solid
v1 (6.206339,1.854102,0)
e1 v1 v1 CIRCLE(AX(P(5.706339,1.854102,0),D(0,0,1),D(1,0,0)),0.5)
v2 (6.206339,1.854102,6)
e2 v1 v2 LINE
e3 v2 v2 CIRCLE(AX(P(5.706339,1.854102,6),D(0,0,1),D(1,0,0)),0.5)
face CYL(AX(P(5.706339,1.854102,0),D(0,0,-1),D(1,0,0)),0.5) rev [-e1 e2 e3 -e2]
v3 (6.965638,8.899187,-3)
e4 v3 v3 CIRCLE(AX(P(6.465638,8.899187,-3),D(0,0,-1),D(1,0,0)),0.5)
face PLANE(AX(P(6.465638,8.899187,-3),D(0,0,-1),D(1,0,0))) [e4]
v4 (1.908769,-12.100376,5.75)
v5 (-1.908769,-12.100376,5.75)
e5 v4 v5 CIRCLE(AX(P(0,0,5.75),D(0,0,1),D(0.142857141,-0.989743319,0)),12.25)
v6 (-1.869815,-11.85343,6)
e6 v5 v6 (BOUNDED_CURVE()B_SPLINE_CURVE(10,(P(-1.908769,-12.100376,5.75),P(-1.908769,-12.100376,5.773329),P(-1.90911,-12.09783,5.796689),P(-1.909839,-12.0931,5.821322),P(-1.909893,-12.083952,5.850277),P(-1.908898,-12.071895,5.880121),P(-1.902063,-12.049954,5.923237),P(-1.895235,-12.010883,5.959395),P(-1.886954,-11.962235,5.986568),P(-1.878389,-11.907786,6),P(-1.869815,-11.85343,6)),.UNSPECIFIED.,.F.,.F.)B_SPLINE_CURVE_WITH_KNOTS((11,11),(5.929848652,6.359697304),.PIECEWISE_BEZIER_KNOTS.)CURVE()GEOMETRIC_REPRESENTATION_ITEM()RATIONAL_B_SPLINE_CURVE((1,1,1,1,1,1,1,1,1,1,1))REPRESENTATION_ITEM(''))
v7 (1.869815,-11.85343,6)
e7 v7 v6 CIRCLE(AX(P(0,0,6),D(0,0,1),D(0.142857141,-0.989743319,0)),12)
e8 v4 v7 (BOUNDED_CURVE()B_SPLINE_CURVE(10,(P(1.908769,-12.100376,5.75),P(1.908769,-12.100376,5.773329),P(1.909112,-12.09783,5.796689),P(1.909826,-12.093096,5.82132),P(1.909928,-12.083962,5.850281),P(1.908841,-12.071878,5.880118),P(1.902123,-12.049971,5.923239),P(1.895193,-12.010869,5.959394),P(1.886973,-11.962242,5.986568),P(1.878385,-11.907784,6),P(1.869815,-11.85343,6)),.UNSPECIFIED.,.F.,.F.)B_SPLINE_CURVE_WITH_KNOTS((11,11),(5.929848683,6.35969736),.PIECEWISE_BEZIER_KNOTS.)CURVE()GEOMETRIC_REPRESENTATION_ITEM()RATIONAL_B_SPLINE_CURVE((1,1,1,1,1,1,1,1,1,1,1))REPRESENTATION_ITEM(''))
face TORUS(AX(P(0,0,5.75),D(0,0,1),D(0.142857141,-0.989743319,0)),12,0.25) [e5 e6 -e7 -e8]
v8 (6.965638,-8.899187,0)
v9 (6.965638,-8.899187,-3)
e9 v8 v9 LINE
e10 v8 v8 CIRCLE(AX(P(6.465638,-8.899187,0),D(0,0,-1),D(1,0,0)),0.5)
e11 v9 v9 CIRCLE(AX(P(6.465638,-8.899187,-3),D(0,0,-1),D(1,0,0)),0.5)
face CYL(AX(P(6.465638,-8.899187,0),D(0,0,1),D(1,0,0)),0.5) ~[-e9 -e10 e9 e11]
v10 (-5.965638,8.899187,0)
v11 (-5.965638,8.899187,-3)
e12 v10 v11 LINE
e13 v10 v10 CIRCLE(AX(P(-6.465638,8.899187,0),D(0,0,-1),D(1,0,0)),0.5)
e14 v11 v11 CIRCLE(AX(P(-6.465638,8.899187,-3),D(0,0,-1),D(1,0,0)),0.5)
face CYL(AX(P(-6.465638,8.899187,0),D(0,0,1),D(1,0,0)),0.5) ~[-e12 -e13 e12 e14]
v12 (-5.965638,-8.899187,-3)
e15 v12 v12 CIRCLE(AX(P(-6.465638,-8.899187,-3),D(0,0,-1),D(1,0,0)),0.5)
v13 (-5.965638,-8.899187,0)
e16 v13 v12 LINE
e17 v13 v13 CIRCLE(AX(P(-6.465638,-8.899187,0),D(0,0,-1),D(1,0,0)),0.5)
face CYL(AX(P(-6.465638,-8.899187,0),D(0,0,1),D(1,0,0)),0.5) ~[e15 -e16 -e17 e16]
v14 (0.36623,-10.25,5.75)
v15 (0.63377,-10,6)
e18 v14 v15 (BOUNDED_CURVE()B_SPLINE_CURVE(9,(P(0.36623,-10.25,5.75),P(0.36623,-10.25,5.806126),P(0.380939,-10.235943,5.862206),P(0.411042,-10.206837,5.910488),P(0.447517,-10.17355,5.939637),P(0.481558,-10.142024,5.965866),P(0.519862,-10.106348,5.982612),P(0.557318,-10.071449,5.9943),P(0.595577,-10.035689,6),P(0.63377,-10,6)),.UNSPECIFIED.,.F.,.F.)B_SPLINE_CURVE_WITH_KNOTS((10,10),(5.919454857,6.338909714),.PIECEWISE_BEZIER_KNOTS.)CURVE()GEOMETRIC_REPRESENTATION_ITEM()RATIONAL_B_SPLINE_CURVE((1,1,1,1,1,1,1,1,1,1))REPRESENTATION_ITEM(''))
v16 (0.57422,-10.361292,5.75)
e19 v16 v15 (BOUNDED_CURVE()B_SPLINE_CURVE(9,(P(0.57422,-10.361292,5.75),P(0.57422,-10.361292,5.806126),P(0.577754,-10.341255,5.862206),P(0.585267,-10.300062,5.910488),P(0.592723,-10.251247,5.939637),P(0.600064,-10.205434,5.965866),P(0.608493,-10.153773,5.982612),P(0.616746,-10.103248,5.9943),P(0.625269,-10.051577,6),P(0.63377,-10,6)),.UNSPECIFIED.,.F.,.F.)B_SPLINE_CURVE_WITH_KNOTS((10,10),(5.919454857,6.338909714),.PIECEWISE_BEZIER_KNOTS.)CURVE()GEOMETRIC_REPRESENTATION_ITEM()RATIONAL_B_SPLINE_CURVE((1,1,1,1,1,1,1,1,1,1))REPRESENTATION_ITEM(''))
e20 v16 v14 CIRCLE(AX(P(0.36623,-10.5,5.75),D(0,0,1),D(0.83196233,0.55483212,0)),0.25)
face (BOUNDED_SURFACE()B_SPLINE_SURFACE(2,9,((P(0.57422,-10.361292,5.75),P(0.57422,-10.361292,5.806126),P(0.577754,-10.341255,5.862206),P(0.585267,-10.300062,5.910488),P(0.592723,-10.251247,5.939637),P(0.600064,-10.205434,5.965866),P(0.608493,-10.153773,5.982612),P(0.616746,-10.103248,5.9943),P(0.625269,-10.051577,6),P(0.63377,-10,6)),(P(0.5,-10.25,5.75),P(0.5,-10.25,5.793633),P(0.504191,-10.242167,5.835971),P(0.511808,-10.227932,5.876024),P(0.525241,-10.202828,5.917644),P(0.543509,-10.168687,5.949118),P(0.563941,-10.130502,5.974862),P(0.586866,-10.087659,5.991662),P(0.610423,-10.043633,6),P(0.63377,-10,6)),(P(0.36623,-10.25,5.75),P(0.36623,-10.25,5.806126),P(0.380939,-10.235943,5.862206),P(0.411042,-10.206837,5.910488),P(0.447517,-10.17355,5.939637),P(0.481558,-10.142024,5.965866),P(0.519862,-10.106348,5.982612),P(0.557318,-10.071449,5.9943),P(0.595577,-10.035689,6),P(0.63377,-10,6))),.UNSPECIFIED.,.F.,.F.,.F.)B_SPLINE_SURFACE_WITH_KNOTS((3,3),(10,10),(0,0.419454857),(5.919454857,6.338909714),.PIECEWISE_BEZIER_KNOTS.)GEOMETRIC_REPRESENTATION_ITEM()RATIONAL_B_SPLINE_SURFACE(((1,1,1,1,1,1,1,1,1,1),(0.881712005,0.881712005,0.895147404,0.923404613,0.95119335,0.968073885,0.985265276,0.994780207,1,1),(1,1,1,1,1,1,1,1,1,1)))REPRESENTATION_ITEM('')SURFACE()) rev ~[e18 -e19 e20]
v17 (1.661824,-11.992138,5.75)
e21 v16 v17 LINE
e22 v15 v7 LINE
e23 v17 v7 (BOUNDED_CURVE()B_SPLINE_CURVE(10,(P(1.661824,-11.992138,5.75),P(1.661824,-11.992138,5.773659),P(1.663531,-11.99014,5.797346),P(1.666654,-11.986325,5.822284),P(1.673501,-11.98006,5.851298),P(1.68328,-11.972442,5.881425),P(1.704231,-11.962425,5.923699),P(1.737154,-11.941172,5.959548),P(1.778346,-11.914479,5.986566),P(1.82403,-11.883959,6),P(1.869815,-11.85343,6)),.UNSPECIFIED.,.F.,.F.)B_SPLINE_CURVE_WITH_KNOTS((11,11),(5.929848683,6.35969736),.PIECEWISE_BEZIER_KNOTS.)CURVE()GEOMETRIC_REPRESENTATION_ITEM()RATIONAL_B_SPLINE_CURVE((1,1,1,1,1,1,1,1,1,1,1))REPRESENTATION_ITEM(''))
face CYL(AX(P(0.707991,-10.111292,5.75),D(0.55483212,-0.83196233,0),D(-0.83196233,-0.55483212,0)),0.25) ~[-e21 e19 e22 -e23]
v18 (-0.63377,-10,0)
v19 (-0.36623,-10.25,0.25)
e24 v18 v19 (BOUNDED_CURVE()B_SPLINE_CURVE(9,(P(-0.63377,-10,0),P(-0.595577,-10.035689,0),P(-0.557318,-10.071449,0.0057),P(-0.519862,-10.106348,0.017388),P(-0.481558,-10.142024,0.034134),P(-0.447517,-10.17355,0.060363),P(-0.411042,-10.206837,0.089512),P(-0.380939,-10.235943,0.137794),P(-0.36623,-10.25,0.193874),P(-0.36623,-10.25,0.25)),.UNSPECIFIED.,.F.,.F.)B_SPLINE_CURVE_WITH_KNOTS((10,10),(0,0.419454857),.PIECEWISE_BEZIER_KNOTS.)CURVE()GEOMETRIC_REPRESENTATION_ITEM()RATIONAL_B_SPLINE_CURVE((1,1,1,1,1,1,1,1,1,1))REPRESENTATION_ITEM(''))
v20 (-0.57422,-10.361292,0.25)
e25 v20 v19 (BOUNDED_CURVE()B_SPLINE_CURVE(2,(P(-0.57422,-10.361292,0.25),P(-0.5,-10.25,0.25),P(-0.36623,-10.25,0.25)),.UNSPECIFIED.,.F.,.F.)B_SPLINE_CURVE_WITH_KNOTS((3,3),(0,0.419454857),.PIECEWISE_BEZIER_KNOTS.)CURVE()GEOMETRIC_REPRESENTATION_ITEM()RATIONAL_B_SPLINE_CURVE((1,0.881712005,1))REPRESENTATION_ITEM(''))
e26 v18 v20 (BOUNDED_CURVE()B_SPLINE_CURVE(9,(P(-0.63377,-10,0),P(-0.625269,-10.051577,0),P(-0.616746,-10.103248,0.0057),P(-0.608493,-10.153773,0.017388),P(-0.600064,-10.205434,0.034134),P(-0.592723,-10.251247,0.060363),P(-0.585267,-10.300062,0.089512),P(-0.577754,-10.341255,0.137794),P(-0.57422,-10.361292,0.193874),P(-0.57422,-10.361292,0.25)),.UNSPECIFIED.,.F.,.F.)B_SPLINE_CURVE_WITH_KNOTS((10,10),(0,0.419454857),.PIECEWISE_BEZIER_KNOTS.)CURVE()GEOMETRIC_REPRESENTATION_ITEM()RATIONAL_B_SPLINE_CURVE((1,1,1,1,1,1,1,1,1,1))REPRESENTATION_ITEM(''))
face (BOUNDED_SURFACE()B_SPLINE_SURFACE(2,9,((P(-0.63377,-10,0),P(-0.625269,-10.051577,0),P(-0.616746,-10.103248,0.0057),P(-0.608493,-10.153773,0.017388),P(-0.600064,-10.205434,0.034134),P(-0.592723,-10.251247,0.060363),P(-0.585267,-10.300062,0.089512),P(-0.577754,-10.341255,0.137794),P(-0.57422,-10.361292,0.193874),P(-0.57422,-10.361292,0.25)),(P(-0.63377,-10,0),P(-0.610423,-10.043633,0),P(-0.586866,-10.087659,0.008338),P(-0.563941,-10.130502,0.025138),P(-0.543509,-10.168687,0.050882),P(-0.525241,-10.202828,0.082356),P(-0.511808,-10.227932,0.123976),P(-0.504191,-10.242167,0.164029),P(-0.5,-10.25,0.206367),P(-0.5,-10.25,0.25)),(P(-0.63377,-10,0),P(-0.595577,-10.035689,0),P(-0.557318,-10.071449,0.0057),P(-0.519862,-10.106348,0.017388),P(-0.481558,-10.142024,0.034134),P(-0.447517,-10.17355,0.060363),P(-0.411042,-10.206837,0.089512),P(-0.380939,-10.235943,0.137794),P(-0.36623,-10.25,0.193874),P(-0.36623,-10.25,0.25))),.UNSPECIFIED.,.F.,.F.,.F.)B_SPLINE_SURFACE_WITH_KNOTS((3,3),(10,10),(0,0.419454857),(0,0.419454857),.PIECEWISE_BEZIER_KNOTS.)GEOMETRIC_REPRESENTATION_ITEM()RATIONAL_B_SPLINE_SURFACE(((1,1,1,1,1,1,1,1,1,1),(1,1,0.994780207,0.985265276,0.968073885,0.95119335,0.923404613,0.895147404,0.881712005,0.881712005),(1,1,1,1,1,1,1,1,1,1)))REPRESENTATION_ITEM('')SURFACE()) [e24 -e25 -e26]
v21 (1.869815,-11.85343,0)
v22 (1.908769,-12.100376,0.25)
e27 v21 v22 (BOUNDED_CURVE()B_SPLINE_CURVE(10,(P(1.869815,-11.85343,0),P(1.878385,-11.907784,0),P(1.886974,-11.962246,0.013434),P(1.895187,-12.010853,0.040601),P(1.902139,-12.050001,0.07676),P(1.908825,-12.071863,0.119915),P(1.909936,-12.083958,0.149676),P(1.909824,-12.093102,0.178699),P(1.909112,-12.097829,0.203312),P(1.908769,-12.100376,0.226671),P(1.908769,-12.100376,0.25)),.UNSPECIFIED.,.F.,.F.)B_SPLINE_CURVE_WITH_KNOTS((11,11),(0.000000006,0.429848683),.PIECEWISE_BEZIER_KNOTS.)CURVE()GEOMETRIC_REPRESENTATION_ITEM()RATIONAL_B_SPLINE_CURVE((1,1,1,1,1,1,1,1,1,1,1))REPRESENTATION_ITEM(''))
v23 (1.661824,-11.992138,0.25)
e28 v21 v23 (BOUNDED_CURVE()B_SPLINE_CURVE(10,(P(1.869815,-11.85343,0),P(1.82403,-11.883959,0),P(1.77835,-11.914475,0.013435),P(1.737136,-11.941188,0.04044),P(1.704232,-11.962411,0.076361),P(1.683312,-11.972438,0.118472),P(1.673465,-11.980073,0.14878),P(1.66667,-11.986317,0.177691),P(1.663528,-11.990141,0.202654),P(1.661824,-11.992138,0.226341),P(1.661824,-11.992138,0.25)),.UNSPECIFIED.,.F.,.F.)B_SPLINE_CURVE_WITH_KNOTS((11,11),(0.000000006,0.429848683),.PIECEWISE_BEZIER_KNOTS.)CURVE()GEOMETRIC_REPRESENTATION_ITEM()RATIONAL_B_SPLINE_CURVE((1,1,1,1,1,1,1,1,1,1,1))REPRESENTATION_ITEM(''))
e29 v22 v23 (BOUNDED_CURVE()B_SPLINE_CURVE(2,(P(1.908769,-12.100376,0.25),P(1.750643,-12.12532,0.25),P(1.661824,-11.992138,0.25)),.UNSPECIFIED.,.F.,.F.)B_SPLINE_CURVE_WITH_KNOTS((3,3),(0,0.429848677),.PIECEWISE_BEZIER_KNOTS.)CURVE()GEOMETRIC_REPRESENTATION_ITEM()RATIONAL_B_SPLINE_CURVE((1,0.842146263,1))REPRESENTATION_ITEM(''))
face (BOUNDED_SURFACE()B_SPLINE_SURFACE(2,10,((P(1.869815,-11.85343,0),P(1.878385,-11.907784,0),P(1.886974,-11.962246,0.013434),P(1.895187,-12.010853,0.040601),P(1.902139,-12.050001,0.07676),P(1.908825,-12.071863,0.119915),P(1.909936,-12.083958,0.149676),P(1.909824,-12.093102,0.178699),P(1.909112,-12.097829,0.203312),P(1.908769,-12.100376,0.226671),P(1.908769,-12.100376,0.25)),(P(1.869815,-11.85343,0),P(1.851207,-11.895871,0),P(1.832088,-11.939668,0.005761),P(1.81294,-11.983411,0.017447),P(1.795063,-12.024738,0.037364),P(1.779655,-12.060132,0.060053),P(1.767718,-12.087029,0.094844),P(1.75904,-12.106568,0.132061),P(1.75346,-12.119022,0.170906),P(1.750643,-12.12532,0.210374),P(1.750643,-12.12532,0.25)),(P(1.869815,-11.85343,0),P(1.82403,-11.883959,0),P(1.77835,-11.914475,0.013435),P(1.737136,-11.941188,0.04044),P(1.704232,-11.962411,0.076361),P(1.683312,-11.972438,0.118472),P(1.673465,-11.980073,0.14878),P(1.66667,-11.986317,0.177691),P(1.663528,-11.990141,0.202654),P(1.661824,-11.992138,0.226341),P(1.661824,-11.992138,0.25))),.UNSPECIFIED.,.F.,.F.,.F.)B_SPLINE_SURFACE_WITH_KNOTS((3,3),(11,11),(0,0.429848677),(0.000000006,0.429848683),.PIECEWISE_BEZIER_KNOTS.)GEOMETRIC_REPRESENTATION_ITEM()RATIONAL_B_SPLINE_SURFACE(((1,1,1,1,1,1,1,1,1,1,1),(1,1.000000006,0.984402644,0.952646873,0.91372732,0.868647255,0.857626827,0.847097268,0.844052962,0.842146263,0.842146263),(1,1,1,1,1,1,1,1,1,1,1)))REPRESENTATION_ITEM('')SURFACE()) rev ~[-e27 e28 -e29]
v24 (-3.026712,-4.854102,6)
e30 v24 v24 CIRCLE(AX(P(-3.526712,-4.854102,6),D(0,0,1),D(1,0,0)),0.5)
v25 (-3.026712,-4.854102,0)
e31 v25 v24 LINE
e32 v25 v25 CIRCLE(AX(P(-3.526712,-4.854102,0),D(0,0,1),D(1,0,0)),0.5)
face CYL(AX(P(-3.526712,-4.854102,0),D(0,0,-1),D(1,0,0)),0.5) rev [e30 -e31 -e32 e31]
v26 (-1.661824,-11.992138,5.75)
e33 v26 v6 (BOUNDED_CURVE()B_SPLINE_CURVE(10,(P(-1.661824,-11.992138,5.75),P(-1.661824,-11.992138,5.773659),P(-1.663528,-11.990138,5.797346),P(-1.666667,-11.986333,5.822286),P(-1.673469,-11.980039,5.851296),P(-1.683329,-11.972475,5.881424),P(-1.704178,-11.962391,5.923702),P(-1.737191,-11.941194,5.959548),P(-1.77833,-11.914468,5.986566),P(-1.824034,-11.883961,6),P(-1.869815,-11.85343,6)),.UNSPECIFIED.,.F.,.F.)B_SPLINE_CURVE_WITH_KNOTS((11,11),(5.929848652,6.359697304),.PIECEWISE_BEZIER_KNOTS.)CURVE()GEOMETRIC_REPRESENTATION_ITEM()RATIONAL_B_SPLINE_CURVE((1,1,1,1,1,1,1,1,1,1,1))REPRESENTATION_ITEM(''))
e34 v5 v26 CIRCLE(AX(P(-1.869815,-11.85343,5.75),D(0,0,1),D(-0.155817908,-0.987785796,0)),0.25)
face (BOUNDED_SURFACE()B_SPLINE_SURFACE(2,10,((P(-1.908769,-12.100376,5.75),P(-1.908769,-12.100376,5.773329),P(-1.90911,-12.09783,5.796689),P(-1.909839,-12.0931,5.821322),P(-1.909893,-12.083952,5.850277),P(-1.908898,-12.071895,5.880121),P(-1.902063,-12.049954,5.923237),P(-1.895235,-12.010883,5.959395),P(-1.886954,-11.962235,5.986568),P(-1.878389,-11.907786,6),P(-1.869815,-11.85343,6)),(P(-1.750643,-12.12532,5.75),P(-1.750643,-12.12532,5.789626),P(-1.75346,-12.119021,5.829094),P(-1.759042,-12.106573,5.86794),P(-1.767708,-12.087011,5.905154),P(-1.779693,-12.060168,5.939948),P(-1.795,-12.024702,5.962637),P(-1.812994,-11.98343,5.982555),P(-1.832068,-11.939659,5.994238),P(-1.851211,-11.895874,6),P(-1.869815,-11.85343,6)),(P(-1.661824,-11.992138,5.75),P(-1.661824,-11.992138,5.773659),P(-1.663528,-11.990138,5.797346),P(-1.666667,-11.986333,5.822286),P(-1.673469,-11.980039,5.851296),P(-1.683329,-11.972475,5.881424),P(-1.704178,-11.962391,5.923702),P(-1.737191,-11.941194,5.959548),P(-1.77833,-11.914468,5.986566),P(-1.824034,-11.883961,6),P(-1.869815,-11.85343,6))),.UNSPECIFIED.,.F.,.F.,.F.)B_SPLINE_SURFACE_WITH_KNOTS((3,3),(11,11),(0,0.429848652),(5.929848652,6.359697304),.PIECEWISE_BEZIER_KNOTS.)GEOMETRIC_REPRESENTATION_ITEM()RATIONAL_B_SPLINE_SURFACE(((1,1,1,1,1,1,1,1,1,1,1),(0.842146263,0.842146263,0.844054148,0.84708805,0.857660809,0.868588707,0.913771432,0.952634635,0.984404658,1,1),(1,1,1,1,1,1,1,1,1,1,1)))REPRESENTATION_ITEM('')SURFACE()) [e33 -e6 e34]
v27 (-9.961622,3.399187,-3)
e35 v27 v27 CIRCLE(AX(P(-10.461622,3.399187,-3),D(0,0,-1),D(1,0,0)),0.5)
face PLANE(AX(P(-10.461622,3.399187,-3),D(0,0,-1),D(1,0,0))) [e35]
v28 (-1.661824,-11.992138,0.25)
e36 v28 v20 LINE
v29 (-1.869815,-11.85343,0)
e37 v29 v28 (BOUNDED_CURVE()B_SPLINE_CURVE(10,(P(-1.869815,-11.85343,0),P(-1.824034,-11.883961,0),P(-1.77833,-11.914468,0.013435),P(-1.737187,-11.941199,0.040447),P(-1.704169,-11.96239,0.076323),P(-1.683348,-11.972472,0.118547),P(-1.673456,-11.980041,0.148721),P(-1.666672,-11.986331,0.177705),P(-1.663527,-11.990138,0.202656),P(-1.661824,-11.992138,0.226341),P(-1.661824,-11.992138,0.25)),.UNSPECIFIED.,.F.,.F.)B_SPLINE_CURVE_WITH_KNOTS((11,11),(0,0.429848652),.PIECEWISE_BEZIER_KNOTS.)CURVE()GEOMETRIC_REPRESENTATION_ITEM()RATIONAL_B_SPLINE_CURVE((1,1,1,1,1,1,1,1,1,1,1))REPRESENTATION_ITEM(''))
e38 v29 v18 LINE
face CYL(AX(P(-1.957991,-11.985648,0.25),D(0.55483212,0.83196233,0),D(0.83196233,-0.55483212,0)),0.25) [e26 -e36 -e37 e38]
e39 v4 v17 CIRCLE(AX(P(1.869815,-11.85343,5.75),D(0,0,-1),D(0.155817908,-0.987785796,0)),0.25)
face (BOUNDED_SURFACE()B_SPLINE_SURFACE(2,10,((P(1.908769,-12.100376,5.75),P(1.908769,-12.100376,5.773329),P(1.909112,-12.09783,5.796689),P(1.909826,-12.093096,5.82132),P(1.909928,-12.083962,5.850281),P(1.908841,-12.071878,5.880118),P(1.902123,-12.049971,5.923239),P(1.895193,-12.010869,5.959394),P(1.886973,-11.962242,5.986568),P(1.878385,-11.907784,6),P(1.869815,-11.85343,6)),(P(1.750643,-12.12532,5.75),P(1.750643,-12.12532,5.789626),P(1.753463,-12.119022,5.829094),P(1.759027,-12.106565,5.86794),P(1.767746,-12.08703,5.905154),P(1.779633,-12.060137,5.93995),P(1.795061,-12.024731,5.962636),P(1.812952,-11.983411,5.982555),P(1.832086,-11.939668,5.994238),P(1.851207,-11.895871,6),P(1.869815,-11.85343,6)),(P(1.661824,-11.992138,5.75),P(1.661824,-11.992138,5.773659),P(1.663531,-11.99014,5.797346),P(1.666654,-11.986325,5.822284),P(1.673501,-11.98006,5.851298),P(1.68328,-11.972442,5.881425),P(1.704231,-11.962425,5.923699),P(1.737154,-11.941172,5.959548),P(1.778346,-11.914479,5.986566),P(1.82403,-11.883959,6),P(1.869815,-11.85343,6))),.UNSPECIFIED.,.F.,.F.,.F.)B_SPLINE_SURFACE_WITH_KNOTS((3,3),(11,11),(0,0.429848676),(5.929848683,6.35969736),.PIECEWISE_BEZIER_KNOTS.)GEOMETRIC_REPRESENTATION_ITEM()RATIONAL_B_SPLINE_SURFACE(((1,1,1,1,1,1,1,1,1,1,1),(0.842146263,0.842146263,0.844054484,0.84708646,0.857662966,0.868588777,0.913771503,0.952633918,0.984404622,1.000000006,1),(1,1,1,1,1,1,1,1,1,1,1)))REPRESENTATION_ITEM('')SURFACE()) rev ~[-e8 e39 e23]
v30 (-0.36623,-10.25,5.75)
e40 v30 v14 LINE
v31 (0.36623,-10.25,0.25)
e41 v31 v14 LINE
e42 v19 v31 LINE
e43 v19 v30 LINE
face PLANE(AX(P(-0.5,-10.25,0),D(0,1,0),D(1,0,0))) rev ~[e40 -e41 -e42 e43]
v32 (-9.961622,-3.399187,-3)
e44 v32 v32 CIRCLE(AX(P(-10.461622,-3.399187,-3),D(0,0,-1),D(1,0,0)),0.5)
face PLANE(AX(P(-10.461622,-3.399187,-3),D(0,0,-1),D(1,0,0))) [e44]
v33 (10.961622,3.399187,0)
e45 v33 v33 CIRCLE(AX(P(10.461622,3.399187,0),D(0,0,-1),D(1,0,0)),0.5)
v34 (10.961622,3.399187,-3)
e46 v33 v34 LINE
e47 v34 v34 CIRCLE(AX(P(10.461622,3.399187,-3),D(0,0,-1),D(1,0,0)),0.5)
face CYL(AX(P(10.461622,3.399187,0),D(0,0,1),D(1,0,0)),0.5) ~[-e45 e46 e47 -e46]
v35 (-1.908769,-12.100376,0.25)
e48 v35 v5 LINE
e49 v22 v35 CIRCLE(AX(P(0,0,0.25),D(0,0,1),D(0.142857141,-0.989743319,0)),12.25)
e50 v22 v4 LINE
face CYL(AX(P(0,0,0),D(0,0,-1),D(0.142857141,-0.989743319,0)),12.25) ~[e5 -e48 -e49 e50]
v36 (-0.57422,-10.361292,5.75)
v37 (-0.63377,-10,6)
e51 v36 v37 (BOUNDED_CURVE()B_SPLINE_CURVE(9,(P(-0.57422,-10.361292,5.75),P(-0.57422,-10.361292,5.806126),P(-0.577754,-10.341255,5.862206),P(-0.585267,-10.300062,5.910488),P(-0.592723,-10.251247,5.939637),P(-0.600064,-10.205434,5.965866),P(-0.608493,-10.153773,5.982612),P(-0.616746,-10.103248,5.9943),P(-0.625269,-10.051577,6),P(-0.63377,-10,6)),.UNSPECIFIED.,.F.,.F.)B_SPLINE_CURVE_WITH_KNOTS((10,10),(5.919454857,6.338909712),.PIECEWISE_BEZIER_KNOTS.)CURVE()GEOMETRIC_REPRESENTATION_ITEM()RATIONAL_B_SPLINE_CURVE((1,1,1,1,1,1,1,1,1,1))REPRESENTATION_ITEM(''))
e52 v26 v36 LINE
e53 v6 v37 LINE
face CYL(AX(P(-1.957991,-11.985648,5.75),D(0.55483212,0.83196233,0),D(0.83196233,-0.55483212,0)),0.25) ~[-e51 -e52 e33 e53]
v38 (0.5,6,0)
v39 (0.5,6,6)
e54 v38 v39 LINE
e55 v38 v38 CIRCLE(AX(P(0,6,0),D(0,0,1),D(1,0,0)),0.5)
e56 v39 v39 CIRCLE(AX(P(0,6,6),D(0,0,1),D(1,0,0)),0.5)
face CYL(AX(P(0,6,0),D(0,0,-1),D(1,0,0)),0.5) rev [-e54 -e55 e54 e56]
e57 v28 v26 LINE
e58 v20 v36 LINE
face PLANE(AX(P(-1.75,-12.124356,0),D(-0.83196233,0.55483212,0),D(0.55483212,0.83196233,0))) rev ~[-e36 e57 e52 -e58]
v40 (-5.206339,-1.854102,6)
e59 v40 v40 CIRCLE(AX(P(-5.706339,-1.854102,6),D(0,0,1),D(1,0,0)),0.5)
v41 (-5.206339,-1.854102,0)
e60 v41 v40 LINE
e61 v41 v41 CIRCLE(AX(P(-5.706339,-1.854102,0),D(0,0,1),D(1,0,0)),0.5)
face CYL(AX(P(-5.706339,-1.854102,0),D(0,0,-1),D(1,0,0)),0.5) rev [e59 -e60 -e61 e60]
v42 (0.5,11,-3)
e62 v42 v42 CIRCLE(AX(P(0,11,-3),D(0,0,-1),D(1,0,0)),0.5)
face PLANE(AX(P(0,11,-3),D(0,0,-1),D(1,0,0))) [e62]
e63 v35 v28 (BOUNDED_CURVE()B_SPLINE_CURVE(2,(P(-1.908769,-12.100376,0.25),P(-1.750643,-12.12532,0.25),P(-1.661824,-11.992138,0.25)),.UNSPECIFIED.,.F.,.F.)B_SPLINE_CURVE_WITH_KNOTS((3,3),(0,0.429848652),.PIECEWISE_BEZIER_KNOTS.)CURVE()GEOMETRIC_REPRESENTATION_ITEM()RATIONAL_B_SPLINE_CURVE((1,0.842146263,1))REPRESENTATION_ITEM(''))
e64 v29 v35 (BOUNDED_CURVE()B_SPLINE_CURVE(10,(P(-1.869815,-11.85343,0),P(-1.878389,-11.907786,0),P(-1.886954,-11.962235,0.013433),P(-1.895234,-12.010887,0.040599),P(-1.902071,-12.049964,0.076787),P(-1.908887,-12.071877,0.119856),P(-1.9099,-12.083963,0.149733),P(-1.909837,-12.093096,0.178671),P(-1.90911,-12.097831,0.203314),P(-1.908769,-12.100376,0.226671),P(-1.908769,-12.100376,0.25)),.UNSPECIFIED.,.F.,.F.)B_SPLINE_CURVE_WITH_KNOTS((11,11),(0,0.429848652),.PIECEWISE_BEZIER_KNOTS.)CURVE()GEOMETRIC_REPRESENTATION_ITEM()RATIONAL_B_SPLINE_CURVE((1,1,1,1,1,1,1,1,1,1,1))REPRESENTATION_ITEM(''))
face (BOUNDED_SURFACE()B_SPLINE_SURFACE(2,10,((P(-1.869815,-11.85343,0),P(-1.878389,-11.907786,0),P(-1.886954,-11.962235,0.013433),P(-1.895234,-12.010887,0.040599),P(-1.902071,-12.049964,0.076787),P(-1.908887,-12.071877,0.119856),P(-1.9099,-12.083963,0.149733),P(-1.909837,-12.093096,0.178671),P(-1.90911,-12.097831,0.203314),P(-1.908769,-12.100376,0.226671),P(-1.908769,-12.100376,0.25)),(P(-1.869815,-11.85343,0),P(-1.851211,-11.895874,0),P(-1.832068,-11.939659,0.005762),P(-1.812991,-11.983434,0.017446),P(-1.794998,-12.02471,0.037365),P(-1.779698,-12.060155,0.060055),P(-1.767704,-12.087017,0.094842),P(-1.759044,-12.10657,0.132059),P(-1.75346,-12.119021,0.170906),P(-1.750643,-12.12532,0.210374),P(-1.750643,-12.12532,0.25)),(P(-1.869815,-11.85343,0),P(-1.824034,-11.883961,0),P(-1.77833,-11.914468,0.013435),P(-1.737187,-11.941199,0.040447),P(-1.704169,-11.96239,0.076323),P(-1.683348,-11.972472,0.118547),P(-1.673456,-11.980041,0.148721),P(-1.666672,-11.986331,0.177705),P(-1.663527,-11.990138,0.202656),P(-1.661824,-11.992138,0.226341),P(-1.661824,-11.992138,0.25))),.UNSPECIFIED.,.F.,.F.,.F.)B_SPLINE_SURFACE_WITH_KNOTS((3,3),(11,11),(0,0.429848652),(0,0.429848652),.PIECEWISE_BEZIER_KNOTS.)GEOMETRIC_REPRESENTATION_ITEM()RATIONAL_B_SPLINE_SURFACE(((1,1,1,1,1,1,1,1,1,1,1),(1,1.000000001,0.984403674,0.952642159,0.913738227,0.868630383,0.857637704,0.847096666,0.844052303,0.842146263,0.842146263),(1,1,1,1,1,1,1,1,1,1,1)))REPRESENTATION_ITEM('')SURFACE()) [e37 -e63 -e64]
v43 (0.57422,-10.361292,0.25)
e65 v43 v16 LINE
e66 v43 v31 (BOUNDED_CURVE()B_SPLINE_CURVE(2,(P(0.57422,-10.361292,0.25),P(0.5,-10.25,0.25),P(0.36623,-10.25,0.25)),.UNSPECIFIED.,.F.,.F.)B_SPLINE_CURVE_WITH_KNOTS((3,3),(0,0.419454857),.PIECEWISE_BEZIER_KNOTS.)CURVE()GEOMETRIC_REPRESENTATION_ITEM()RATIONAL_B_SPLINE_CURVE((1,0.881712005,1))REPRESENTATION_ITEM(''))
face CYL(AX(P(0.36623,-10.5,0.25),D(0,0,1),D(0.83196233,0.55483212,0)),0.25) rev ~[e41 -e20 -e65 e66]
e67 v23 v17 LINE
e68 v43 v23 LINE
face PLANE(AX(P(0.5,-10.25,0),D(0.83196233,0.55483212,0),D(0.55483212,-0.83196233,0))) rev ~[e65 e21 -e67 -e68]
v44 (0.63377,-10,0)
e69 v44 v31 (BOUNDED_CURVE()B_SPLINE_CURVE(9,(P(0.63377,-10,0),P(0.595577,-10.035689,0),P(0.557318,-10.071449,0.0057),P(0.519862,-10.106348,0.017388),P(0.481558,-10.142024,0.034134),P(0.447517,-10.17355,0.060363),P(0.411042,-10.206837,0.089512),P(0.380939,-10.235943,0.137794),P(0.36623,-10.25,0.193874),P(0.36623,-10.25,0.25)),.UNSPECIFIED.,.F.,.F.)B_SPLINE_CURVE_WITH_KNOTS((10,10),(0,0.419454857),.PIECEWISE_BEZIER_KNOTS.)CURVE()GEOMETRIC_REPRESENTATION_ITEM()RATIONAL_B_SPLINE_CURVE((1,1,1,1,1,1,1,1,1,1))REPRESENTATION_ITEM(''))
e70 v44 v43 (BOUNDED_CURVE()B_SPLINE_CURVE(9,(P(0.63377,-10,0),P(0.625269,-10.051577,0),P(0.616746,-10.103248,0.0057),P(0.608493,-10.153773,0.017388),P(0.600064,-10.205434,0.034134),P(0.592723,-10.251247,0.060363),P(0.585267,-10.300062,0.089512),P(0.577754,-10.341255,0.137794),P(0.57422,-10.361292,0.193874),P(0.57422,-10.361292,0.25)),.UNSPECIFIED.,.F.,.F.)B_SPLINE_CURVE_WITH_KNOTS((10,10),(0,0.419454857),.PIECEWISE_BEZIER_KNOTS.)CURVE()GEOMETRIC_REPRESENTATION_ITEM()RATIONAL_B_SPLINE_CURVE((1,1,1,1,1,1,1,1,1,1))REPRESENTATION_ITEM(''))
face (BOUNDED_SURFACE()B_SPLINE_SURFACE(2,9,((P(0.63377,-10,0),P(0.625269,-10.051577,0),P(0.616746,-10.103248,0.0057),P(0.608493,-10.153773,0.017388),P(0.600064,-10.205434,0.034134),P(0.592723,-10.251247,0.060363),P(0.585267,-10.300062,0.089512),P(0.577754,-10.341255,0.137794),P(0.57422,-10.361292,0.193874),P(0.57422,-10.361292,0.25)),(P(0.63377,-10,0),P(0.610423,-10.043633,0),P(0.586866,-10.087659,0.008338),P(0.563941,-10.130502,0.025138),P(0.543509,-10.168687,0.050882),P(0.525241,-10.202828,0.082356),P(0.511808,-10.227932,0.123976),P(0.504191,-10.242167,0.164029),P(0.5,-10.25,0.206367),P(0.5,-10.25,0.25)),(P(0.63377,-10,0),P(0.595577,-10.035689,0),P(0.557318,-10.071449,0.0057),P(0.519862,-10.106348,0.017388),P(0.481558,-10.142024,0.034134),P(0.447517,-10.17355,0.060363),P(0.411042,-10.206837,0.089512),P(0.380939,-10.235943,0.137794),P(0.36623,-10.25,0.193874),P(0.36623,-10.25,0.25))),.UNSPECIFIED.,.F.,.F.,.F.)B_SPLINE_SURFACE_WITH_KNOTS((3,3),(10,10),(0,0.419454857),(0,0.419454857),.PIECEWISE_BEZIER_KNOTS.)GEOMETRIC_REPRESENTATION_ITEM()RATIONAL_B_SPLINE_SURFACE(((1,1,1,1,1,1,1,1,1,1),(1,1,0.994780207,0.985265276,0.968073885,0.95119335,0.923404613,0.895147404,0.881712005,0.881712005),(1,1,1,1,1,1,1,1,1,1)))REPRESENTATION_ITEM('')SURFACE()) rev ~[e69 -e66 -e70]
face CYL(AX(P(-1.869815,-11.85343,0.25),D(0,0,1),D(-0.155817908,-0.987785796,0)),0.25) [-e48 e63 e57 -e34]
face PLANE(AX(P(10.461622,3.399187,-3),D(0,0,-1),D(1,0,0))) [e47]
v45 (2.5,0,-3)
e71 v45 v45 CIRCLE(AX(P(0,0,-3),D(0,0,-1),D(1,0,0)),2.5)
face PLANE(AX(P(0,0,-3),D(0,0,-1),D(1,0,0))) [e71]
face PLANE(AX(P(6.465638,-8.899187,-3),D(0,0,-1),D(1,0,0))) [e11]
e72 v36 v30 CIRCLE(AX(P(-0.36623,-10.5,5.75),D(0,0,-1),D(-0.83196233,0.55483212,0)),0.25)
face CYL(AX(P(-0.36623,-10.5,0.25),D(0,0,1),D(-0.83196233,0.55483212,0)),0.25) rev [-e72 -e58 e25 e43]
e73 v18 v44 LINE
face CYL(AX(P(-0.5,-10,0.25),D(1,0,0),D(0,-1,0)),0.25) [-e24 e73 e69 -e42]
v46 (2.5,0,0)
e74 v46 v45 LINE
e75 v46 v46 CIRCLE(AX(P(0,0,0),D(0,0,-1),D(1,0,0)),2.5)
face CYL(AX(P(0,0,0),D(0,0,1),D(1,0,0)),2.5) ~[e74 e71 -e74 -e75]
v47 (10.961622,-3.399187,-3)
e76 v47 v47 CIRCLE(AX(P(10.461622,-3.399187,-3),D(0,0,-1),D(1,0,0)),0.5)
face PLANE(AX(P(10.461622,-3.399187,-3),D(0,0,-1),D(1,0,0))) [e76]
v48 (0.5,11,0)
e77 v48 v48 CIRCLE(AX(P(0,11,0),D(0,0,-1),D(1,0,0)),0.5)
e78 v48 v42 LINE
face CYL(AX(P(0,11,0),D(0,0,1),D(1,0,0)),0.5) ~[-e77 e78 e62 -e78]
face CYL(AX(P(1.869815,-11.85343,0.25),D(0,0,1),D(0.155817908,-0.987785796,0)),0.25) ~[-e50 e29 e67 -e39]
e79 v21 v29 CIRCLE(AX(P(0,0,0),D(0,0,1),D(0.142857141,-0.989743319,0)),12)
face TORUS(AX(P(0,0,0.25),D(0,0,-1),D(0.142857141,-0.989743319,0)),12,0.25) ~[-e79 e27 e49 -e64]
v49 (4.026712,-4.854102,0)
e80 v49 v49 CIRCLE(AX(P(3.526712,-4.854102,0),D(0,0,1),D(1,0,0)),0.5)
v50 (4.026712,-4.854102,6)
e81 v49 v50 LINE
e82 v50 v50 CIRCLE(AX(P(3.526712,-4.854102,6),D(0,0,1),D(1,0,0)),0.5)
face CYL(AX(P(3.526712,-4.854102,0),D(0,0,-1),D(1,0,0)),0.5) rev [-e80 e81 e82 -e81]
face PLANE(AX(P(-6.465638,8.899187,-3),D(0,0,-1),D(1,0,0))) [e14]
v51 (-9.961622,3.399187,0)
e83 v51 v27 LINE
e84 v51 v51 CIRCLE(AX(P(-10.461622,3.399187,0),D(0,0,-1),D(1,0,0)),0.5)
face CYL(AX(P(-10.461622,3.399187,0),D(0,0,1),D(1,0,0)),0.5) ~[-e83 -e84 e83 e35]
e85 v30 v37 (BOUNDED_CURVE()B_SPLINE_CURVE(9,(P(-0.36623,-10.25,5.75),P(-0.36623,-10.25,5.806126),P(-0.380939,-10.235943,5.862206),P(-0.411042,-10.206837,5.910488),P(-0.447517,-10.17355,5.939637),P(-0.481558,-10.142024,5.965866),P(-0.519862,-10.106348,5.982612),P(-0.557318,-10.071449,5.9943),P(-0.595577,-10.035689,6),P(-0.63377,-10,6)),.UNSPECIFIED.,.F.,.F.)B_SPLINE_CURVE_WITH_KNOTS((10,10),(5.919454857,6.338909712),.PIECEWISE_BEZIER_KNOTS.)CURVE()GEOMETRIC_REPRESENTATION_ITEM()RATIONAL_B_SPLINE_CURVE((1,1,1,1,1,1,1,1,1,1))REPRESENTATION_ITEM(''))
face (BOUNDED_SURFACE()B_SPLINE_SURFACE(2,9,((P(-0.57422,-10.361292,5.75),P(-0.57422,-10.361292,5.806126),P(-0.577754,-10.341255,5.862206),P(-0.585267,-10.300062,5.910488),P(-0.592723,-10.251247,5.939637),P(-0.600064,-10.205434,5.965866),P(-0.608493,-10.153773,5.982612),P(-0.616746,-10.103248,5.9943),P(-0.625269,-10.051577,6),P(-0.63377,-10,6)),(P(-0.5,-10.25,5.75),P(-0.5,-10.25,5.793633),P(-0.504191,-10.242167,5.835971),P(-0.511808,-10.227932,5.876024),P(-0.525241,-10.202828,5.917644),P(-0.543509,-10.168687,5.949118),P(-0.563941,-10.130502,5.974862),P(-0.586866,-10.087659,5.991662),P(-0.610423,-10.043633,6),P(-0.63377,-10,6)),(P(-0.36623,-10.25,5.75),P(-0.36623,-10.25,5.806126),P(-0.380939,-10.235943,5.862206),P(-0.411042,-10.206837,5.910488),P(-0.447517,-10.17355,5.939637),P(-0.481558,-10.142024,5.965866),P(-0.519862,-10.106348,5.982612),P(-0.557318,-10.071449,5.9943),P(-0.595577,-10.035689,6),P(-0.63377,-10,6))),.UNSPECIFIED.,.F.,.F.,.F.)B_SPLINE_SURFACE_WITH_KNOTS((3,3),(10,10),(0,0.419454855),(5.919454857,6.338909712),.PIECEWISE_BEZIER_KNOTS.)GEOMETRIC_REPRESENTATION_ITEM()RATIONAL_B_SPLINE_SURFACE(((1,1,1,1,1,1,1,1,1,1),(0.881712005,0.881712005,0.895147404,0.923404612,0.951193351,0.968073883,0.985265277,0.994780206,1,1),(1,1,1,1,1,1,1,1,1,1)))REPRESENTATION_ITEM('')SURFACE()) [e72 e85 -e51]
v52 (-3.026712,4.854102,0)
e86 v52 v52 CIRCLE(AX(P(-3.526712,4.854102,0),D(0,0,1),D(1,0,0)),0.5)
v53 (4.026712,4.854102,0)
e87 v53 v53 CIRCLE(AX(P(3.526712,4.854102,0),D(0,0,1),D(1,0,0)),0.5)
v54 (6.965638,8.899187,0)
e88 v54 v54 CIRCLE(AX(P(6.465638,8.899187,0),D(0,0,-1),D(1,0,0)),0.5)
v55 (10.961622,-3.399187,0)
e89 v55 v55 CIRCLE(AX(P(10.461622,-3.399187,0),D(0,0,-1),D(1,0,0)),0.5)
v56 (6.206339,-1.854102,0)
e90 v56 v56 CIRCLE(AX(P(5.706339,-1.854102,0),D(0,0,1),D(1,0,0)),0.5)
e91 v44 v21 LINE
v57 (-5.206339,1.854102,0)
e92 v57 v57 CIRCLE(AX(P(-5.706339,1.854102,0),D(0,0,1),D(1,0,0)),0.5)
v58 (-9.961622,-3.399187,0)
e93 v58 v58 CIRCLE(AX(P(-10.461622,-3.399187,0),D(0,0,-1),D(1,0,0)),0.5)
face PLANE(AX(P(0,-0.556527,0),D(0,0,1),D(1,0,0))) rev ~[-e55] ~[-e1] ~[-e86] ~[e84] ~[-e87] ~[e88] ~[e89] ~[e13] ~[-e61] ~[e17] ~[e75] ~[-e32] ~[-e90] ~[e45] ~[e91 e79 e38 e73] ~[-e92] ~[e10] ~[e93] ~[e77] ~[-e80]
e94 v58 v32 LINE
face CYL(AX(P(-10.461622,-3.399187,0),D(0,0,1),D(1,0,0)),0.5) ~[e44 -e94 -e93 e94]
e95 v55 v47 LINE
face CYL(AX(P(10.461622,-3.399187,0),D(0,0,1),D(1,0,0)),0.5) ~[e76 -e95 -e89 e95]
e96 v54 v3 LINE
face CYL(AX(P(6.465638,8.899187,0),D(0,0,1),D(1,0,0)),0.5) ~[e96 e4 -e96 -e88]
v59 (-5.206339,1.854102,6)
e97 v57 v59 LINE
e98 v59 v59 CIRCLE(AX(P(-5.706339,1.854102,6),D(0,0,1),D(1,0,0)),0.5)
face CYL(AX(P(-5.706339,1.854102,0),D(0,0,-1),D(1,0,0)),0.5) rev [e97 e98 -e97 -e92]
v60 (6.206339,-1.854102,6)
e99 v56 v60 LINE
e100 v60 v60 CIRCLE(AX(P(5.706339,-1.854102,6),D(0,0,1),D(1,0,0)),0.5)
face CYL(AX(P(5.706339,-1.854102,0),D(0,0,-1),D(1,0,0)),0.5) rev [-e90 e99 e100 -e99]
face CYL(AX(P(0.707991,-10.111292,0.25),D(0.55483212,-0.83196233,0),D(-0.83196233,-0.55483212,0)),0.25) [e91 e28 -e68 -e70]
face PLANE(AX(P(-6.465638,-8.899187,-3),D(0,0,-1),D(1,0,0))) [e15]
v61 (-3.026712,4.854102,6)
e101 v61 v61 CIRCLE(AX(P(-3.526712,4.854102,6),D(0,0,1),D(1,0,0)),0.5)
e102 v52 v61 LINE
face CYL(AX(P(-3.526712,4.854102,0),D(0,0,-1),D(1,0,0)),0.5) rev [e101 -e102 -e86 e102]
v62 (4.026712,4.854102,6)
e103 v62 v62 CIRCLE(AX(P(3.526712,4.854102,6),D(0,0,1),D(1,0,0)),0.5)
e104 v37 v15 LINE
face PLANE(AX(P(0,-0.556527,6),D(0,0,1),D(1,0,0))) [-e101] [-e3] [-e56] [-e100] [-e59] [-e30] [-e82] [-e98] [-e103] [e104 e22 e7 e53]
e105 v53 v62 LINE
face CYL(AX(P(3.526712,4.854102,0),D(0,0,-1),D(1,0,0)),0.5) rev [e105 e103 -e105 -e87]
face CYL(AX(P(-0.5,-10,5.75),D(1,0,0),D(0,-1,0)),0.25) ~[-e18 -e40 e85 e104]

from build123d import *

# Parameters (mm, degrees)
SKETCH_R      = 0.5
PAD_DEPTH     = 6
FILLET_R      = 0.25
FILLET001_R   = 0.25
SKETCH001_R   = 0.5
SKETCH001_R_2 = 2.5
PAD001_DEPTH  = 3


with BuildPart() as part:
    # Sketch → Pad (new body)
    with BuildSketch(Plane.XY):
        with BuildLine():
            ThreePointArc((1.75, -12.124356), (0, 12.25), (-1.75, -12.124356))
            Line((-1.75, -12.124356), (-0.5, -10.25))
            Line((-0.5, -10.25), (0.5, -10.25))
            Line((0.5, -10.25), (1.75, -12.124356))
        make_face()
        with Locations((-3.526712, -4.854102)):
            Circle(SKETCH_R, mode=Mode.SUBTRACT)
        with Locations((-5.706339, -1.854102)):
            Circle(SKETCH_R, mode=Mode.SUBTRACT)
        with Locations((-5.706339, 1.854102)):
            Circle(SKETCH_R, mode=Mode.SUBTRACT)
        with Locations((-3.526712, 4.854102)):
            Circle(SKETCH_R, mode=Mode.SUBTRACT)
        with Locations((0, 6)):
            Circle(SKETCH_R, mode=Mode.SUBTRACT)
        with Locations((3.526712, 4.854102)):
            Circle(SKETCH_R, mode=Mode.SUBTRACT)
        with Locations((5.706339, 1.854102)):
            Circle(SKETCH_R, mode=Mode.SUBTRACT)
        with Locations((5.706339, -1.854102)):
            Circle(SKETCH_R, mode=Mode.SUBTRACT)
        with Locations((3.526712, -4.854102)):
            Circle(SKETCH_R, mode=Mode.SUBTRACT)
    extrude(amount=PAD_DEPTH)

    # Fillet
    fillet_edges = [part.edges().sort_by_distance(p)[0] for p in [
        (0, 12.25, 6),
        (1.125, -11.187178, 6),
        (0, -10.25, 6),
        (-1.125, -11.187178, 6),
        (0, 12.25, 0),
        (-1.125, -11.187178, 0),
        (0, -10.25, 0),
        (1.125, -11.187178, 0),
    ]]
    fillet(fillet_edges, radius=FILLET_R)

    # Fillet001
    fillet001_edges = [part.edges().sort_by_distance(p)[0] for p in [
        (-1.75, -12.124356, 3),
        (-0.5, -10.25, 3),
        (0.5, -10.25, 3),
        (1.75, -12.124356, 3),
    ]]
    fillet(fillet001_edges, radius=FILLET001_R)

    # Sketch001 (on Face8 of Fillet001) → Pad001 (join)
    with BuildSketch(Plane(origin=(0, 0, 0), x_dir=(1, 0, 0), z_dir=(0, 0, -1))):
        with Locations((-6.465638, 8.899187)):
            Circle(SKETCH001_R)
        with Locations((-10.461622, 3.399187)):
            Circle(SKETCH001_R)
        with Locations((-10.461622, -3.399187)):
            Circle(SKETCH001_R)
        with Locations((-6.465638, -8.899187)):
            Circle(SKETCH001_R)
        with Locations((0, -11)):
            Circle(SKETCH001_R)
        with Locations((6.465638, -8.899187)):
            Circle(SKETCH001_R)
        with Locations((10.461622, -3.399187)):
            Circle(SKETCH001_R)
        with Locations((10.461622, 3.399187)):
            Circle(SKETCH001_R)
        with Locations((6.465638, 8.899187)):
            Circle(SKETCH001_R)
        Circle(SKETCH001_R_2)
    extrude(amount=PAD001_DEPTH)


solid = part.part
